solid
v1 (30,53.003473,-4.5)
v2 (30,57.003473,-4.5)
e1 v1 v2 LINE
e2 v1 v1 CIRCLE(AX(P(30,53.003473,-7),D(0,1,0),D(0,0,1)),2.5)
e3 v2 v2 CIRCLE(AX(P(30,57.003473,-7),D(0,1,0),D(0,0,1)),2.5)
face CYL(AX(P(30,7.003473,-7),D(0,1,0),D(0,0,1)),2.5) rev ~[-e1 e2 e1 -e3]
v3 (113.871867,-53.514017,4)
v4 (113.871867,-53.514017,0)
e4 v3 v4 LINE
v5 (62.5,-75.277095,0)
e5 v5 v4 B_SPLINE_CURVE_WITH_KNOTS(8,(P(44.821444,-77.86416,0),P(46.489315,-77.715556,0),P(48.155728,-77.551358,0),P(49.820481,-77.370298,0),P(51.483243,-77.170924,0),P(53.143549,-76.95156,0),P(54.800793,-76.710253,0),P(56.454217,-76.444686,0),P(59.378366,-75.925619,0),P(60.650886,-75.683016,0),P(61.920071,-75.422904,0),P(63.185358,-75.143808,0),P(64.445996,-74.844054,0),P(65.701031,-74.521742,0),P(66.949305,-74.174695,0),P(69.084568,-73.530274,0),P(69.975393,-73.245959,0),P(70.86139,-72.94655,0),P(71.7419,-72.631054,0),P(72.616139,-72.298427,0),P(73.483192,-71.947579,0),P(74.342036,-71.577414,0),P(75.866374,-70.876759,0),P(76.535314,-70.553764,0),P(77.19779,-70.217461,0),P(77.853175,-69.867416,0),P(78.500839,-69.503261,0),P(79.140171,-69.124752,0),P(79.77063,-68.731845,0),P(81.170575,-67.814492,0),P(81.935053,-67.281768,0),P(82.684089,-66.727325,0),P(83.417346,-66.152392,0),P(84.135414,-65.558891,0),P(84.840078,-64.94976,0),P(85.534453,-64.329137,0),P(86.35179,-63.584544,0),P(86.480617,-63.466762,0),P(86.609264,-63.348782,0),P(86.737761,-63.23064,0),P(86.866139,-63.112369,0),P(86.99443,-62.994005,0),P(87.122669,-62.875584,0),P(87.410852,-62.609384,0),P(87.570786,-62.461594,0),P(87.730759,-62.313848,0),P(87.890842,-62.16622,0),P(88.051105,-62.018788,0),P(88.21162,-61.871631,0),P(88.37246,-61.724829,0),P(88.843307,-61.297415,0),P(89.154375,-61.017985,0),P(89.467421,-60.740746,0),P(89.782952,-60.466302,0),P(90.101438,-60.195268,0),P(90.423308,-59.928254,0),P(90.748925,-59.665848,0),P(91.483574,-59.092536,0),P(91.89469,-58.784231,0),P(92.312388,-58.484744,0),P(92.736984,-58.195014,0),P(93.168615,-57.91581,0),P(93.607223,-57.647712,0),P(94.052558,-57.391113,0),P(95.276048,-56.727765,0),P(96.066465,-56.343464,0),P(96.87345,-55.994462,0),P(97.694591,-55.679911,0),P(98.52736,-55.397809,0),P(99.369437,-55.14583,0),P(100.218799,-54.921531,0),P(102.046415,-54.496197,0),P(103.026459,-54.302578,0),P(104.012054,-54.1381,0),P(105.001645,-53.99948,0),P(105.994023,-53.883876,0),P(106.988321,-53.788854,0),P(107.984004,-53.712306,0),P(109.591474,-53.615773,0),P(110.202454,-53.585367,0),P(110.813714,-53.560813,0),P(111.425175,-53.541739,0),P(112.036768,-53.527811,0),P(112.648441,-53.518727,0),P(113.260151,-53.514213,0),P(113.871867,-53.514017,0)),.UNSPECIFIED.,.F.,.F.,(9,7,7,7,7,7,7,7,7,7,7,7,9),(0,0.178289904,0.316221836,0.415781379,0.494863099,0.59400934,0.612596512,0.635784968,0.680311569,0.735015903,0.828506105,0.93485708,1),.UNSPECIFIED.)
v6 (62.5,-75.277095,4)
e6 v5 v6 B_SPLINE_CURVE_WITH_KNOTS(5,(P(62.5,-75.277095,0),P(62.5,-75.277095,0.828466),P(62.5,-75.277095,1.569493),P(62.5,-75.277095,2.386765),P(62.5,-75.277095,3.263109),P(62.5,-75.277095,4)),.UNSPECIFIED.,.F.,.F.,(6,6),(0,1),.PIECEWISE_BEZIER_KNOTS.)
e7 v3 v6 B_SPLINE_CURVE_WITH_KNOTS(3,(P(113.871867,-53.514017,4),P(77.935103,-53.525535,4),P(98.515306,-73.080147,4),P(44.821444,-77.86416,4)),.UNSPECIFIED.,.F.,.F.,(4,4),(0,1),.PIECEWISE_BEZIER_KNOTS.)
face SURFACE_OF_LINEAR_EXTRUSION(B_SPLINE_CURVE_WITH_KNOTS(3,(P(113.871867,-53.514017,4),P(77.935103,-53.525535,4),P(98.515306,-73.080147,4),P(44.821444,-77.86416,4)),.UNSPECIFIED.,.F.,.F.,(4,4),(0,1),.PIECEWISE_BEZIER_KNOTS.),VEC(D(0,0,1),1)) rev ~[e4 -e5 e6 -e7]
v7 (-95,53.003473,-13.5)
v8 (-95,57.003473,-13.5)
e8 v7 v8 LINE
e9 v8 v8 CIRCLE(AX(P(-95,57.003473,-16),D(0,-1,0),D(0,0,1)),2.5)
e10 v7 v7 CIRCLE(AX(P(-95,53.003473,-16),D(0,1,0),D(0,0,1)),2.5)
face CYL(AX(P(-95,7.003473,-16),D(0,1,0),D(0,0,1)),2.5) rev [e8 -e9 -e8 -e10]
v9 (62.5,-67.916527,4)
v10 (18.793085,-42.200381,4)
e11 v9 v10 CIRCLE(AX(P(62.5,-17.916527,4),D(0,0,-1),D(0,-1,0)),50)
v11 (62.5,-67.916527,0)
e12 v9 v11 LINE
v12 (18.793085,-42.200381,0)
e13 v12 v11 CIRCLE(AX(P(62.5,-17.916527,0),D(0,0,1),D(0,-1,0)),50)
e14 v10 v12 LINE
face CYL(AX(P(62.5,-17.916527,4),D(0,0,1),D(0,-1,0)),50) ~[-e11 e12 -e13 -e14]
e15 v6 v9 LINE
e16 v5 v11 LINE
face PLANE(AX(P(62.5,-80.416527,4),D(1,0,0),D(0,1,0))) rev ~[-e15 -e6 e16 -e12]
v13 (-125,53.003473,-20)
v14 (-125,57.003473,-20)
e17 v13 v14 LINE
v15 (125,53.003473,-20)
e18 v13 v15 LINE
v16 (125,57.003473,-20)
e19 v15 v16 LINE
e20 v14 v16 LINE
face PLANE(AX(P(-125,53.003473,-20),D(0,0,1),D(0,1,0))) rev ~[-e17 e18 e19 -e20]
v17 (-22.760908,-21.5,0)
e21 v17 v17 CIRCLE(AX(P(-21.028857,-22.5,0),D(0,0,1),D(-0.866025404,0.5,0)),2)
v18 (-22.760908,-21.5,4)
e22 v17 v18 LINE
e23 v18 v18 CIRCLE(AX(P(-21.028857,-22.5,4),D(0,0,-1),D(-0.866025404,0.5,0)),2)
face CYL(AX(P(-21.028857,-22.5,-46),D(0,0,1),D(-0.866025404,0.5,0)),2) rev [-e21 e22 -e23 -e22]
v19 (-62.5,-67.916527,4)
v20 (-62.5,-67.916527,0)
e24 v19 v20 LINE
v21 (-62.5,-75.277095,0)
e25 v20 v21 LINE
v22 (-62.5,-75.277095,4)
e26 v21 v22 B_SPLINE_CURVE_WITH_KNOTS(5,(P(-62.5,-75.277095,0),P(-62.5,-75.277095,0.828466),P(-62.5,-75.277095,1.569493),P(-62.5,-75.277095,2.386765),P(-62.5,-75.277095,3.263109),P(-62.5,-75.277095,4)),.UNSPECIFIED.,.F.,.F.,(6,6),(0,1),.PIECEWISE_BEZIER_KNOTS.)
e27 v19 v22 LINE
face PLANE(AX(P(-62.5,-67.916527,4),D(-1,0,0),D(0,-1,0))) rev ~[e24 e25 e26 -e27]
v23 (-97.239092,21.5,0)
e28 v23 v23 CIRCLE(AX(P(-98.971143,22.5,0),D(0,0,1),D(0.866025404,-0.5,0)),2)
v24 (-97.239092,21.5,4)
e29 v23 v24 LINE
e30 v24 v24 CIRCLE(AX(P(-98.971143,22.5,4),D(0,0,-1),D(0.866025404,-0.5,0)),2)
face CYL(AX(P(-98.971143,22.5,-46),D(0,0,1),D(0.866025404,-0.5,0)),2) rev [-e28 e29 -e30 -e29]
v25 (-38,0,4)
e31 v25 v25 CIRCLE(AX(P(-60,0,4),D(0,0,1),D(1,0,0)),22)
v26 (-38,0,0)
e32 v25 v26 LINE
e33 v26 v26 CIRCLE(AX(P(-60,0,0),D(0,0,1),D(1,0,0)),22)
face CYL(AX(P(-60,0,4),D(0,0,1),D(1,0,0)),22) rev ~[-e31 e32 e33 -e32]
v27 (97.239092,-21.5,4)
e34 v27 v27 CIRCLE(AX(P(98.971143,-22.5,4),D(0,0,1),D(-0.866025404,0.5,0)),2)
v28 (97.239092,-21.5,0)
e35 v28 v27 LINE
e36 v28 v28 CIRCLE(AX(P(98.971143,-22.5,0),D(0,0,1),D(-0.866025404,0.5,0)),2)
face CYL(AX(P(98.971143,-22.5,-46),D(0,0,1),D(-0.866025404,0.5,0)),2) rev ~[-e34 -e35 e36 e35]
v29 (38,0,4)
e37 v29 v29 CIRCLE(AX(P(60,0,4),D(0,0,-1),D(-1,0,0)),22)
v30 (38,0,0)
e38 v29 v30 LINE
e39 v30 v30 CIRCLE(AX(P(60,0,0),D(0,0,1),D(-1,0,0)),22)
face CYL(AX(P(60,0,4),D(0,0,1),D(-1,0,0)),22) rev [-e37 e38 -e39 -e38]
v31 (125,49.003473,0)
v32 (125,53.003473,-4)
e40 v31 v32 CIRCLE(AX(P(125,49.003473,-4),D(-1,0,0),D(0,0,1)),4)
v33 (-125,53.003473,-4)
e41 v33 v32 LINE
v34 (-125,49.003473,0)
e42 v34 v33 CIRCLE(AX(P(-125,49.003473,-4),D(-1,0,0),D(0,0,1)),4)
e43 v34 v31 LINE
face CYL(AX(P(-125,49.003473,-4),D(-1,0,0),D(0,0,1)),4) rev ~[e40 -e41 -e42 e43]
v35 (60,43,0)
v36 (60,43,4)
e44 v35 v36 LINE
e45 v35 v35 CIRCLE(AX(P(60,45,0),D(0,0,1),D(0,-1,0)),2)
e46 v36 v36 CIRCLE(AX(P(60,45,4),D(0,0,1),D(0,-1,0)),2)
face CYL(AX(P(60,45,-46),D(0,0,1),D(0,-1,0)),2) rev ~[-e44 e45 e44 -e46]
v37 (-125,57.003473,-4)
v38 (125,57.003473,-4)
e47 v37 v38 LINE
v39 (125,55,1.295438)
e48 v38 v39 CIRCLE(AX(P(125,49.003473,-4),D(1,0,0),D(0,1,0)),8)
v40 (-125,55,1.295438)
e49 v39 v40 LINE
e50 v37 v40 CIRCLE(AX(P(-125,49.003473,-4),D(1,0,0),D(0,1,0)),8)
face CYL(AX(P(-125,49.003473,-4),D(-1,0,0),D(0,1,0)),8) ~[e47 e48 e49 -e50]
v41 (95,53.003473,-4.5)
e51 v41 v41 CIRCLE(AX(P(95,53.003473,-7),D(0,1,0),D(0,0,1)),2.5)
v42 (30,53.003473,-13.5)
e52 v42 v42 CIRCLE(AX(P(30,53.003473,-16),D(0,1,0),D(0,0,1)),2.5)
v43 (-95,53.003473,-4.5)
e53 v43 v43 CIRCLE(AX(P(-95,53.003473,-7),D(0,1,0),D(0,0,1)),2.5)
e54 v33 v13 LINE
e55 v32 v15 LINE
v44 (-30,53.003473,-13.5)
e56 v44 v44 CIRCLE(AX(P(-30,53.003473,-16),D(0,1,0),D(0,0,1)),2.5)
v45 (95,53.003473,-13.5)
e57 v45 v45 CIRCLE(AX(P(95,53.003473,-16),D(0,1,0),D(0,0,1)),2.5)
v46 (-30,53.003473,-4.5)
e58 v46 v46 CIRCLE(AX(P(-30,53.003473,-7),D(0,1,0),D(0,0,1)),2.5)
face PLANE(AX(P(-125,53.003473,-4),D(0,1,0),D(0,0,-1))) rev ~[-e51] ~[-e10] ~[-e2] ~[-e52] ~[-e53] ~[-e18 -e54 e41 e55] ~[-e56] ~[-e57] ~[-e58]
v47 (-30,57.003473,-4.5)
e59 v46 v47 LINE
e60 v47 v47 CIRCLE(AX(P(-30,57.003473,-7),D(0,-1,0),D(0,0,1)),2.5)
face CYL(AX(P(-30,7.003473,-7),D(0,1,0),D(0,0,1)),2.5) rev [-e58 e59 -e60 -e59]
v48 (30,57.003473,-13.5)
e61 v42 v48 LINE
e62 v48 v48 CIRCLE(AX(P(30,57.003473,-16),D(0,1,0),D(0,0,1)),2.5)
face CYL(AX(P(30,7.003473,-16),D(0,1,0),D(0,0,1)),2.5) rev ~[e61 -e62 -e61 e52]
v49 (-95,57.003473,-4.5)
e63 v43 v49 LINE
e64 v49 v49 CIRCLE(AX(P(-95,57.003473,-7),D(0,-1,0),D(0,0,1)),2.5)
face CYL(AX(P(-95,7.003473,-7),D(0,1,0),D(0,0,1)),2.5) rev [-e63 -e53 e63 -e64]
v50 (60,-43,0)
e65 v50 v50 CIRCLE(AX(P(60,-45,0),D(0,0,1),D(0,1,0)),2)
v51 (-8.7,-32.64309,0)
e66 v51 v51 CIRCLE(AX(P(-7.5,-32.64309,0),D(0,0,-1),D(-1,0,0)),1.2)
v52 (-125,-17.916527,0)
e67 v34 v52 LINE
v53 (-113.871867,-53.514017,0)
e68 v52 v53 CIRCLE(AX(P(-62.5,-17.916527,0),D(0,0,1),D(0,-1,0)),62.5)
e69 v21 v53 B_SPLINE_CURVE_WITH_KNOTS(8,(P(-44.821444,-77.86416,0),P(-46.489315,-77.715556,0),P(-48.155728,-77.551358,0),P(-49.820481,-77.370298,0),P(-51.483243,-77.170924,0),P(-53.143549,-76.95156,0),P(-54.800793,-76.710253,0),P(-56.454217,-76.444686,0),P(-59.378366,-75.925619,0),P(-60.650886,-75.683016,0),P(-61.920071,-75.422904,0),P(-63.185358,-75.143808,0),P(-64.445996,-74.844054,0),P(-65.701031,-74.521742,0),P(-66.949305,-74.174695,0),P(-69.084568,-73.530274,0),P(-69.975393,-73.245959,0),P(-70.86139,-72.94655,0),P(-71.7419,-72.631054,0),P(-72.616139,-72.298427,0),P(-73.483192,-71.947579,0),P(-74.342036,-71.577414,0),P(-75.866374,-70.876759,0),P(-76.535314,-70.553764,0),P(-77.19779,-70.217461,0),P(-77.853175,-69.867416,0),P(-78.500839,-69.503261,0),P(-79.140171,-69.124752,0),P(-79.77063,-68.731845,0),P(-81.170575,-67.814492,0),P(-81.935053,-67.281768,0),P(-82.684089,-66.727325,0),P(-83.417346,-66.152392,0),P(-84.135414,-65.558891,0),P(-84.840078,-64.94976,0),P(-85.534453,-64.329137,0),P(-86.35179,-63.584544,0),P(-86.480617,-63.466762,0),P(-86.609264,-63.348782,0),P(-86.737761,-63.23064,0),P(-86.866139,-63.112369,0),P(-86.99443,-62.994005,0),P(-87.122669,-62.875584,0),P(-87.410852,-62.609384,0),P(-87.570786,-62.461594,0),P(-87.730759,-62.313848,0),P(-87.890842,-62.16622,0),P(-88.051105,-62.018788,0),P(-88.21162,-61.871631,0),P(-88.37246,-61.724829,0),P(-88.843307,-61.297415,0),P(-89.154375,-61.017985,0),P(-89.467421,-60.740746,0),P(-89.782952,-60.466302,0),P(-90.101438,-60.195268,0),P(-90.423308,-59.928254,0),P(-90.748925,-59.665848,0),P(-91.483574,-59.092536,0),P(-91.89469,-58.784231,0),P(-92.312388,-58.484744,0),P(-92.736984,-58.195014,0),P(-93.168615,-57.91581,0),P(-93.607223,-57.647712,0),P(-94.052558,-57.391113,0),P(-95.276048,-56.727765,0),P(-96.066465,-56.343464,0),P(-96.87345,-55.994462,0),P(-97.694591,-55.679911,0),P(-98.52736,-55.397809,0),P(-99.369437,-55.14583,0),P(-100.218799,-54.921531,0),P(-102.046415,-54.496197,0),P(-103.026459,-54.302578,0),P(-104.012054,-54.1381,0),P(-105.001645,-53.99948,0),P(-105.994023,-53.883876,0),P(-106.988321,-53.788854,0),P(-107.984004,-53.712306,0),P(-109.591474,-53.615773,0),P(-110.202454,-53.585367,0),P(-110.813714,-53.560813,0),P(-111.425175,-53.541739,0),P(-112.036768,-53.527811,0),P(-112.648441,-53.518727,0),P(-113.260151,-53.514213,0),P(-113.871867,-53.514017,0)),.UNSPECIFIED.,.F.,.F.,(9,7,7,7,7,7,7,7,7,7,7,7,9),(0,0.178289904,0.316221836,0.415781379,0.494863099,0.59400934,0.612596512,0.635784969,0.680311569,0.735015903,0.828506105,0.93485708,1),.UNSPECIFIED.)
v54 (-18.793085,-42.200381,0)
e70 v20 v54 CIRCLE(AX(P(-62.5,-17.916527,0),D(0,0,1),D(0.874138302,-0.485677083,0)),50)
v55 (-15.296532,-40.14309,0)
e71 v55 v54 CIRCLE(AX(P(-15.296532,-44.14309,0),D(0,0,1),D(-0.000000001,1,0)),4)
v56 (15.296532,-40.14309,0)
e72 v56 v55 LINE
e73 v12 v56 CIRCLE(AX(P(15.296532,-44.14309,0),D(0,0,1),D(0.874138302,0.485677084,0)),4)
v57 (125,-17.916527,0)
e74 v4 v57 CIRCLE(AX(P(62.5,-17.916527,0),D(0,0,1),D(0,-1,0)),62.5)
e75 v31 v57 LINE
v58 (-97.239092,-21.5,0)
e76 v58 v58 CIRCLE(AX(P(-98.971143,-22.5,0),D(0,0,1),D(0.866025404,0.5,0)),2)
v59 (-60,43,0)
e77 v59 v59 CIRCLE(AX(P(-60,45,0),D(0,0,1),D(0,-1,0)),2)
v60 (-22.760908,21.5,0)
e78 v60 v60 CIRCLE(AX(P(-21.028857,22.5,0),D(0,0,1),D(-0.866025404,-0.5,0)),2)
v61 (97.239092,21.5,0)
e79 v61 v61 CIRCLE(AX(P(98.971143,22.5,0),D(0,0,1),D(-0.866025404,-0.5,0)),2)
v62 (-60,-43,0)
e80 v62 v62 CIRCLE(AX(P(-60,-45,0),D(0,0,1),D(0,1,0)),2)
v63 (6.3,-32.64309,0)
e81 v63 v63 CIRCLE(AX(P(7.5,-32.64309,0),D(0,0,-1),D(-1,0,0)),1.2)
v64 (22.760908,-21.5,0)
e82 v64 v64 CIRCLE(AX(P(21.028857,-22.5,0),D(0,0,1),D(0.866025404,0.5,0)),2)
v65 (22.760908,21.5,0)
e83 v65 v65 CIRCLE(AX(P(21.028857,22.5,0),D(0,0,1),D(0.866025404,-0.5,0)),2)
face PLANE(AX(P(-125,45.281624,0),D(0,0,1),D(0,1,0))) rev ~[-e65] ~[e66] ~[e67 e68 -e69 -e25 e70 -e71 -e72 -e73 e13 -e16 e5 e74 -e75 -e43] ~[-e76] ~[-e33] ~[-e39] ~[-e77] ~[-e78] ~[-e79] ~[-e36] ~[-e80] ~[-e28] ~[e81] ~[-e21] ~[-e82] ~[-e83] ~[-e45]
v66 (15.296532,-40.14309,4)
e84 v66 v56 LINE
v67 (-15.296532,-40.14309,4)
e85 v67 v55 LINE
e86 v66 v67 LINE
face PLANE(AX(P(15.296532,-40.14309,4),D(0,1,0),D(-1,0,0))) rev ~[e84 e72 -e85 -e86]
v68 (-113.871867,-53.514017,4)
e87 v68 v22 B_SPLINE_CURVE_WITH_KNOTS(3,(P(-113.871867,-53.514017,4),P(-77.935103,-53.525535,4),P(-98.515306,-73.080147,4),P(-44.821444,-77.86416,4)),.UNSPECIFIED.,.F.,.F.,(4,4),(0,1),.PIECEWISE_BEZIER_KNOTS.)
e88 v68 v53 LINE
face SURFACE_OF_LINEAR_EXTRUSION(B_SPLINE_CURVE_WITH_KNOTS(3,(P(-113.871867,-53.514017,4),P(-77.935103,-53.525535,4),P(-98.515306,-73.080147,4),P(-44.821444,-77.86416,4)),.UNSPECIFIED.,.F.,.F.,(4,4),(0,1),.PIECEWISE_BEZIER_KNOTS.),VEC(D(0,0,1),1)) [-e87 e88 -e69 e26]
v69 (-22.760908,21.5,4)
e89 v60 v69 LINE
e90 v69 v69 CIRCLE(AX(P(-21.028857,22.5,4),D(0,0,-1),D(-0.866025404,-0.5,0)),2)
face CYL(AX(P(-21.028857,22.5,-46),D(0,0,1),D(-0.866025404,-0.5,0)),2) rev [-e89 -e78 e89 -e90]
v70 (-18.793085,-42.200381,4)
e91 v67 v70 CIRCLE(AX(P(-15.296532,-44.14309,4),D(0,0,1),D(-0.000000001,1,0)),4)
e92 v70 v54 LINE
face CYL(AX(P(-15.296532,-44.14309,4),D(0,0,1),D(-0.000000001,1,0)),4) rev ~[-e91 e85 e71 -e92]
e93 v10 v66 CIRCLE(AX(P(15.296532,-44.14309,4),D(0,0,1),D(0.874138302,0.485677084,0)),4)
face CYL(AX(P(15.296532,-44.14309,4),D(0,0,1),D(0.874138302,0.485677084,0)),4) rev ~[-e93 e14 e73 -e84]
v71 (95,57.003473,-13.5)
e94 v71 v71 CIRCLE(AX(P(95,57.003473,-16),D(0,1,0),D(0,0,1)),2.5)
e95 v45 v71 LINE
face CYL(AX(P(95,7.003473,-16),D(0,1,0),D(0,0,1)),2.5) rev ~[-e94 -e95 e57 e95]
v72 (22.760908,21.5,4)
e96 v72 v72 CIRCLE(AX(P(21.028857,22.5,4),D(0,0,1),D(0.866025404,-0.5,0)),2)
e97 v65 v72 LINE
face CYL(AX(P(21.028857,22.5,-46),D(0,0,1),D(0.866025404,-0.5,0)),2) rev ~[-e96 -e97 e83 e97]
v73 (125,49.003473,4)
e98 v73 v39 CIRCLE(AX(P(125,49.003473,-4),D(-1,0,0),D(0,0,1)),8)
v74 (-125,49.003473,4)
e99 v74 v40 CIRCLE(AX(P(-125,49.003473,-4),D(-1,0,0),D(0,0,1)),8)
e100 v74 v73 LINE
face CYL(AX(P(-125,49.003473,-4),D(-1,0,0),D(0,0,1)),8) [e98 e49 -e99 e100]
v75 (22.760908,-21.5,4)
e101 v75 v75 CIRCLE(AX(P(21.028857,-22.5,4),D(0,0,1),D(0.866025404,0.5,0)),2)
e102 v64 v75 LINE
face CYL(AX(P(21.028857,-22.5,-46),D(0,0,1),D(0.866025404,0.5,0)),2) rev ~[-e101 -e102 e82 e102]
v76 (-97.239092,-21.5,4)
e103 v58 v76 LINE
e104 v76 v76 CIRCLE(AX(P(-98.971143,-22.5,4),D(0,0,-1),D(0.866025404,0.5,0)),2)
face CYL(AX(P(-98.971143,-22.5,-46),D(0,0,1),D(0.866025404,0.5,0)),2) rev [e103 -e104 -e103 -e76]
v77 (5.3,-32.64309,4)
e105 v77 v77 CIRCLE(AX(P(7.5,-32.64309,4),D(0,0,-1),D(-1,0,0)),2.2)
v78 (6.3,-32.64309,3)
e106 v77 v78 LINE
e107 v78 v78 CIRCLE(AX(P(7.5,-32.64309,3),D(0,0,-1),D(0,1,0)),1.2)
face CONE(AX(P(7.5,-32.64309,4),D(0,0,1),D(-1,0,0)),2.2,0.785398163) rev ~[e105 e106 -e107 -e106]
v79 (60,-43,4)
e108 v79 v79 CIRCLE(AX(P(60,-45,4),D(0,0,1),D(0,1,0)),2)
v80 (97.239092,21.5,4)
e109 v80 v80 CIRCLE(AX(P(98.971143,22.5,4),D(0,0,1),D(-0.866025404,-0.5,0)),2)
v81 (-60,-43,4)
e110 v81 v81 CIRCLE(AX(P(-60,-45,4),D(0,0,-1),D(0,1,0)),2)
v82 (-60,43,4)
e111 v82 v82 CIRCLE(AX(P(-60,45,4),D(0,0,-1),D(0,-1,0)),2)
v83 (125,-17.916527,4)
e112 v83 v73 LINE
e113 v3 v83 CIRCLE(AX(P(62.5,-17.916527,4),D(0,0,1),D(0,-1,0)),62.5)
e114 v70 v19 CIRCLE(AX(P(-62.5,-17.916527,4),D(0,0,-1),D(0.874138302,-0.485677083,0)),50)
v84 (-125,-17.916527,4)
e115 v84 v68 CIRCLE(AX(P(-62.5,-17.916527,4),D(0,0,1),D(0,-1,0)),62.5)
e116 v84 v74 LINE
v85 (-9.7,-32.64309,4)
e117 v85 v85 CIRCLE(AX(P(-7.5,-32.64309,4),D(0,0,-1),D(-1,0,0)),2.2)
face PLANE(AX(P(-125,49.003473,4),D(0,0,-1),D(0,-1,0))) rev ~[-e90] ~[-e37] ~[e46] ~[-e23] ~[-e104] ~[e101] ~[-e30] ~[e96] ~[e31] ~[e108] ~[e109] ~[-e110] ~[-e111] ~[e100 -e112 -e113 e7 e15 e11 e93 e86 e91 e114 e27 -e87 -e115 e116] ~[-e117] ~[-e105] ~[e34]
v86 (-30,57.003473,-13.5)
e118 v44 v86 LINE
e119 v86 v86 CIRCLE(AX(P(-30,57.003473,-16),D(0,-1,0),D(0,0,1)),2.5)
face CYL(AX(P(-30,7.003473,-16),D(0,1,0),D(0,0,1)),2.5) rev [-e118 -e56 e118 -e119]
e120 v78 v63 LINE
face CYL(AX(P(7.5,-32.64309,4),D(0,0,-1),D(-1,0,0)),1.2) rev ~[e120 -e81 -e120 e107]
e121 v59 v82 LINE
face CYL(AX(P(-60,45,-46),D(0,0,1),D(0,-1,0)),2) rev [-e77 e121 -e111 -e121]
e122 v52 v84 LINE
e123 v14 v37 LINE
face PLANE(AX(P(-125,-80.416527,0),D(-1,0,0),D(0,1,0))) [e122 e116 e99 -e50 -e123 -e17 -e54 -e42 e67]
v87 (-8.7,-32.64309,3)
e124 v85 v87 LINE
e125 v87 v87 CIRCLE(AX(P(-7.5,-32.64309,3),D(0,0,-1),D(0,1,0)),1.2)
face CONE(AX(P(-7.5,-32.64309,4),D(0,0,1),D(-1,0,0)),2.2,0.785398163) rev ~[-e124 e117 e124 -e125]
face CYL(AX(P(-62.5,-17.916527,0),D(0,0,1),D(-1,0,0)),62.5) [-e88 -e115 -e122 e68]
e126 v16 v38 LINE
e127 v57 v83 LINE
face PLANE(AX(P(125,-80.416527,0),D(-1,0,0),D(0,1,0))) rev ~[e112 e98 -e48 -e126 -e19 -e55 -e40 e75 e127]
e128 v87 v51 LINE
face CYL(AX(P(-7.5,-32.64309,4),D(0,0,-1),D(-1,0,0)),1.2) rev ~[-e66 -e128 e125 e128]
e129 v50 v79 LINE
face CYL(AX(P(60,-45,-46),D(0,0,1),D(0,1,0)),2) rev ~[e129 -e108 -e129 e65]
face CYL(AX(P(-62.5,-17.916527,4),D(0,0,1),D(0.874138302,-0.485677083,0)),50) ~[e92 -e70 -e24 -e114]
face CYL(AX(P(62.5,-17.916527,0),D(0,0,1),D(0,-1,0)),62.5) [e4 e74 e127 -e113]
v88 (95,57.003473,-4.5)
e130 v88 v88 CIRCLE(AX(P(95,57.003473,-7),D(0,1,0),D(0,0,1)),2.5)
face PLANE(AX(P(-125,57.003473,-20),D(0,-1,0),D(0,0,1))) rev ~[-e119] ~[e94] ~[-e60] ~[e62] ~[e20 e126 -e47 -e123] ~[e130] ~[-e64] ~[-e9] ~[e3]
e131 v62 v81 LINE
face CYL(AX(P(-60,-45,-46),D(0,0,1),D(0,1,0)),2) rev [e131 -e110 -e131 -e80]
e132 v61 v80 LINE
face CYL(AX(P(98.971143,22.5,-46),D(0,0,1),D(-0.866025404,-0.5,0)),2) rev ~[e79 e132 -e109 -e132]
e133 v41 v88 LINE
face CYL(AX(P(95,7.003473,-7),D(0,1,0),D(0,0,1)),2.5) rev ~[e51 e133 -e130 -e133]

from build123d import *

# Parameters (mm, degrees)
SKETCH1_W                                           = 250
SKETCH1_H                                           = 155.2734375
BOSS_EXTRUDE1_DEPTH                                 = 4
FILLET1_R                                           = 62.5
CUT_EXTRUDE1_DEPTH                                  = 10
CUT_EXTRUDE2_DEPTH                                  = 10
SKETCH7_R                                           = 22
CUT_EXTRUDE3_DEPTH                                  = 7
SKETCH8_W                                           = 250
SKETCH8_H                                           = 19.85691045
CUT_EXTRUDE4_DEPTH                                  = 7
BOSS_EXTRUDE6_DEPTH                                 = 250
CUT_EXTRUDE6_DEPTH                                  = 250
CIRPATTERN1_COUNT                                   = 6
F_5_0_5_DIAMETER_HOLE2_AT_2_COUNT                   = 2
F_5_0_5_DIAMETER_HOLE2_AT_2_PITCH                   = 9
LPATTERN2_COUNT                                     = 2
LPATTERN2_PITCH                                     = 65
CSK_FOR_M2_COUNTERSUNK_FLAT_HEAD_SCREW1_D           = 2.4
CSK_FOR_M2_COUNTERSUNK_FLAT_HEAD_SCREW1_DEPTH       = 9
CSK_FOR_M2_COUNTERSUNK_FLAT_HEAD_SCREW1_CSINK_D     = 4.4
CSK_FOR_M2_COUNTERSUNK_FLAT_HEAD_SCREW1_CSINK_ANGLE = 90
CSK_FOR_M2_COUNTERSUNK_FLAT_HEAD_SCREW1_TIP         = 0.721032743


with BuildPart() as part:
    # Sketch1 → Boss-Extrude1 (new body)
    with BuildSketch(Plane.XY):
        with Locations((0, -2.7798083)):
            Rectangle(SKETCH1_W, SKETCH1_H)
    extrude(amount=BOSS_EXTRUDE1_DEPTH)

    # Fillet1
    fillet1_edges = [part.edges().sort_by_distance(p)[0] for p in [
        (125, -80.41652705, 2),
        (-125, -80.41652705, 2),
    ]]
    fillet(fillet1_edges, radius=FILLET1_R)

    # Sketch5 → Cut-Extrude1 (cut)
    with BuildSketch(Plane.XY.offset(4)):
        with BuildLine():
            Line((15.296531701, -40.14308955), (-15.296531701, -40.14308955))
            ThreePointArc((-15.296531701, -40.14308955), (-17.324975275, -40.695566285), (-18.793084909, -42.200381217))
            ThreePointArc((-18.793084909, -42.200381217), (-37.144455324, -61.01056787), (-62.5, -67.91652705))
            Line((-62.5, -67.91652705), (-62.5, -80.41652705))
            Line((-62.5, -80.41652705), (62.5, -80.41652705))
            Line((62.5, -80.41652705), (62.5, -67.91652705))
            ThreePointArc((62.5, -67.91652705), (37.144455324, -61.01056787), (18.793084909, -42.200381217))
            ThreePointArc((18.793084909, -42.200381217), (17.324975275, -40.695566285), (15.296531701, -40.14308955))
        make_face()
    extrude(amount=-CUT_EXTRUDE1_DEPTH, mode=Mode.SUBTRACT)

    # Sketch6 → Cut-Extrude2 (cut)
    with BuildSketch(Plane.XY.offset(4)):
        with BuildLine():
            Line((-113.871867123, -53.514016685), (-113.871867123, -84.736307966))
            Line((-113.871867123, -84.736307966), (-44.821444402, -84.736307966))
            Line((-44.821444402, -84.736307966), (-44.821444402, -77.864159797))
            add(Edge.make_bspline(
                [(-113.871867123, -53.514016685), (-77.935103041, -53.525535165), (-98.515305829, -73.080146865), (-44.821444402, -77.864159797)],
                knots=[0, 0, 0, 0, 1, 1, 1, 1], degree=3))
        make_face()
    cut_extrude2 = extrude(amount=-CUT_EXTRUDE2_DEPTH, mode=Mode.SUBTRACT)

    # Mirror2: Cut-Extrude2 across plane
    add(cut_extrude2.mirror(Plane(origin=(0, 0, 0), x_dir=(0, 0, 1), z_dir=(1, 0, 0))), mode=Mode.SUBTRACT)

    # Sketch7 → Cut-Extrude3 (cut)
    with BuildSketch(Plane.XY.offset(4)):
        with Locations((-60, 0)):
            Circle(SKETCH7_R)
    cut_extrude3 = extrude(amount=-CUT_EXTRUDE3_DEPTH, mode=Mode.SUBTRACT)

    # Mirror3: Cut-Extrude3 across plane
    add(cut_extrude3.mirror(Plane(origin=(0, 0, 0), x_dir=(0, 0, 1), z_dir=(1, 0, 0))), mode=Mode.SUBTRACT)

    # Sketch8 → Cut-Extrude4 (cut)
    with BuildSketch(Plane.XY.offset(4)):
        with Locations((0, 64.928455225)):
            Rectangle(SKETCH8_W, SKETCH8_H)
    extrude(amount=-CUT_EXTRUDE4_DEPTH, mode=Mode.SUBTRACT)

    # Sketch20 → Boss-Extrude6 (add)
    with BuildSketch(Plane.ZY.offset(125)):
        with BuildLine():
            Line((4, 45.281624312), (0, 45.281624312))
            Line((0, 45.281624312), (0, 49.00347295))
            ThreePointArc((0, 49.00347295), (-1.171572875, 51.831900074), (-4, 53.00347295))
            Line((-4, 53.00347295), (-20, 53.00347295))
            Line((-20, 53.00347295), (-20, 57.00347295))
            Line((-20, 57.00347295), (-4, 57.00347295))
            ThreePointArc((-4, 57.00347295), (1.656854249, 54.660327199), (4, 49.00347295))
            Line((4, 49.00347295), (4, 45.281624312))
        make_face()
    extrude(amount=-BOSS_EXTRUDE6_DEPTH)

    # Sketch22 → Cut-Extrude6 (cut)
    with BuildSketch(Plane.ZY.offset(125)):
        with BuildLine():
            Line((1.295437974, 55), (4, 55))
            Line((4, 55), (4, 49.00347295))
            ThreePointArc((4, 49.00347295), (3.292581977, 52.292583484), (1.295437974, 55))
        make_face()
    extrude(amount=-CUT_EXTRUDE6_DEPTH, mode=Mode.SUBTRACT)

    # Sketch3 → Ø4.0mm Dowel Hole1 (revolve, cut)
    with BuildSketch(Plane(origin=(-60, 45, 4), x_dir=(0, -1, 0), z_dir=(1, 0, 0))):
        Polygon((0, 0), (0, 51.201721238), (2, 50), (2, 0), align=None)
    f_4_0mm_dowel_hole1 = revolve(axis=Axis((-60, 45, 10.35), (0, 0, -1)), mode=Mode.SUBTRACT)

    # CirPattern1: Ø4.0mm Dowel Hole1 ×6 about axis
    cirpattern1_axis = Axis((-60, 0, 0), (0, 0, 1))
    for i in range(1, CIRPATTERN1_COUNT):
        add(f_4_0mm_dowel_hole1.rotate(cirpattern1_axis, i * 360 / CIRPATTERN1_COUNT), mode=Mode.SUBTRACT)

    # Mirror1: Ø4.0mm Dowel Hole1 across plane
    add(f_4_0mm_dowel_hole1.mirror(Plane(origin=(0, 0, 0), x_dir=(0, 0, 1), z_dir=(1, 0, 0))), mode=Mode.SUBTRACT)

    # Mirror1 copy 1 sketch → Mirror1 copy 1 (revolve, cut)
    with BuildSketch(Plane(origin=(98.97114317, 22.5, 4), x_dir=(-0.8660254037844386, -0.5000000000000001, 0), z_dir=(-0.5000000000000001, 0.8660254037844386, 0))):
        Polygon((0, 0), (0, -51.201721238), (2, -50), (2, 0), align=None)
    revolve(axis=Axis((98.97114317, 22.5, 10.35), (0, 0, 1)), mode=Mode.SUBTRACT)

    # Mirror1 copy 2 sketch → Mirror1 copy 2 (revolve, cut)
    with BuildSketch(Plane(origin=(98.97114317, -22.5, 4), x_dir=(-0.8660254037844387, 0.4999999999999998, 0), z_dir=(0.4999999999999998, 0.8660254037844387, 0))):
        Polygon((0, 0), (0, -51.201721238), (2, -50), (2, 0), align=None)
    revolve(axis=Axis((98.97114317, -22.5, 10.35), (0, 0, 1)), mode=Mode.SUBTRACT)

    # Mirror1 copy 3 sketch → Mirror1 copy 3 (revolve, cut)
    with BuildSketch(Plane(origin=(60, -45, 4), x_dir=(0, 1, 0), z_dir=(1, 0, 0))):
        Polygon((0, 0), (0, -51.201721238), (2, -50), (2, 0), align=None)
    revolve(axis=Axis((60, -45, 10.35), (0, 0, 1)), mode=Mode.SUBTRACT)

    # Mirror1 copy 4 sketch → Mirror1 copy 4 (revolve, cut)
    with BuildSketch(Plane(origin=(21.02885683, -22.5, 4), x_dir=(0.8660254037844384, 0.5000000000000004, 0), z_dir=(0.5000000000000004, -0.8660254037844384, 0))):
        Polygon((0, 0), (0, -51.201721238), (2, -50), (2, 0), align=None)
    revolve(axis=Axis((21.02885683, -22.5, 10.35), (0, 0, 1)), mode=Mode.SUBTRACT)

    # Mirror1 copy 5 sketch → Mirror1 copy 5 (revolve, cut)
    with BuildSketch(Plane(origin=(21.02885683, 22.5, 4), x_dir=(0.8660254037844386, -0.5000000000000001, 0), z_dir=(-0.5000000000000001, -0.8660254037844386, 0))):
        Polygon((0, 0), (0, -51.201721238), (2, -50), (2, 0), align=None)
    revolve(axis=Axis((21.02885683, 22.5, 10.35), (0, 0, 1)), mode=Mode.SUBTRACT)

    # Sketch24 → Ø5.0 (5) Diameter Hole2 (revolve, cut)
    with BuildSketch(Plane(origin=(-95, 57.00347295, -16), x_dir=(0, 0, 1), z_dir=(1, 0, 0))):
        Polygon((0, 0), (0, 51.502151548), (2.5, 50), (2.5, 0), align=None)
    f_5_0_5_diameter_hole2 = revolve(axis=Axis((-95, 63.35347295, -16), (0, -1, 0)), mode=Mode.SUBTRACT)

    # Ø5.0 (5) Diameter Hole2 at 2: Ø5.0 (5) Diameter Hole2 ×2
    with Locations(*[(0, 0, i * F_5_0_5_DIAMETER_HOLE2_AT_2_PITCH) for i in range(1, F_5_0_5_DIAMETER_HOLE2_AT_2_COUNT)]):
        add(f_5_0_5_diameter_hole2, mode=Mode.SUBTRACT)

    # LPattern2: Ø5.0 (5) Diameter Hole2 ×2
    with Locations(*[(i * LPATTERN2_PITCH, 0, 0) for i in range(1, LPATTERN2_COUNT)]):
        add(f_5_0_5_diameter_hole2, mode=Mode.SUBTRACT)

    # LPattern2 copy 1 sketch → LPattern2 copy 1 (revolve, cut)
    with BuildSketch(Plane(origin=(-30, 57.00347295, -7), x_dir=(0, 0, 1), z_dir=(1, 0, 0))):
        Polygon((0, 0), (0, 51.502151548), (2.5, 50), (2.5, 0), align=None)
    revolve(axis=Axis((-30, 63.35347295, -7), (0, -1, 0)), mode=Mode.SUBTRACT)

    # Mirror6: Ø5.0 (5) Diameter Hole2 across plane
    add(f_5_0_5_diameter_hole2.mirror(Plane(origin=(0, 0, 0), x_dir=(0, 0, 1), z_dir=(1, 0, 0))), mode=Mode.SUBTRACT)

    # Mirror6 copy 1 sketch → Mirror6 copy 1 (revolve, cut)
    with BuildSketch(Plane(origin=(95, 57.00347295, -7), x_dir=(0, 0, 1), z_dir=(-1, 0, 0))):
        Polygon((0, 0), (0, -51.502151548), (2.5, -50), (2.5, 0), align=None)
    revolve(axis=Axis((95, 63.35347295, -7), (0, 1, 0)), mode=Mode.SUBTRACT)

    # Mirror6 copy 2 sketch → Mirror6 copy 2 (revolve, cut)
    with BuildSketch(Plane(origin=(30, 57.00347295, -16), x_dir=(0, 0, 1), z_dir=(-1, 0, 0))):
        Polygon((0, 0), (0, -51.502151548), (2.5, -50), (2.5, 0), align=None)
    revolve(axis=Axis((30, 63.35347295, -16), (0, 1, 0)), mode=Mode.SUBTRACT)

    # Mirror6 copy 3 sketch → Mirror6 copy 3 (revolve, cut)
    with BuildSketch(Plane(origin=(30, 57.00347295, -7), x_dir=(0, 0, 1), z_dir=(-1, 0, 0))):
        Polygon((0, 0), (0, -51.502151548), (2.5, -50), (2.5, 0), align=None)
    revolve(axis=Axis((30, 63.35347295, -7), (0, 1, 0)), mode=Mode.SUBTRACT)

    # CSK for M2 Countersunk Flat Head Screw1
    with Locations(Plane.XY.offset(4)):
        with Locations((-7.5, -32.64308955), (7.5, -32.64308955)):
            CounterSinkHole(CSK_FOR_M2_COUNTERSUNK_FLAT_HEAD_SCREW1_D / 2, CSK_FOR_M2_COUNTERSUNK_FLAT_HEAD_SCREW1_CSINK_D / 2, depth=CSK_FOR_M2_COUNTERSUNK_FLAT_HEAD_SCREW1_DEPTH, counter_sink_angle=CSK_FOR_M2_COUNTERSUNK_FLAT_HEAD_SCREW1_CSINK_ANGLE)
            with Locations((0, 0, -(CSK_FOR_M2_COUNTERSUNK_FLAT_HEAD_SCREW1_DEPTH + CSK_FOR_M2_COUNTERSUNK_FLAT_HEAD_SCREW1_TIP / 2))):  # 118° drill point
                Cone(0, CSK_FOR_M2_COUNTERSUNK_FLAT_HEAD_SCREW1_D / 2, CSK_FOR_M2_COUNTERSUNK_FLAT_HEAD_SCREW1_TIP, mode=Mode.SUBTRACT)


solid = part.part
